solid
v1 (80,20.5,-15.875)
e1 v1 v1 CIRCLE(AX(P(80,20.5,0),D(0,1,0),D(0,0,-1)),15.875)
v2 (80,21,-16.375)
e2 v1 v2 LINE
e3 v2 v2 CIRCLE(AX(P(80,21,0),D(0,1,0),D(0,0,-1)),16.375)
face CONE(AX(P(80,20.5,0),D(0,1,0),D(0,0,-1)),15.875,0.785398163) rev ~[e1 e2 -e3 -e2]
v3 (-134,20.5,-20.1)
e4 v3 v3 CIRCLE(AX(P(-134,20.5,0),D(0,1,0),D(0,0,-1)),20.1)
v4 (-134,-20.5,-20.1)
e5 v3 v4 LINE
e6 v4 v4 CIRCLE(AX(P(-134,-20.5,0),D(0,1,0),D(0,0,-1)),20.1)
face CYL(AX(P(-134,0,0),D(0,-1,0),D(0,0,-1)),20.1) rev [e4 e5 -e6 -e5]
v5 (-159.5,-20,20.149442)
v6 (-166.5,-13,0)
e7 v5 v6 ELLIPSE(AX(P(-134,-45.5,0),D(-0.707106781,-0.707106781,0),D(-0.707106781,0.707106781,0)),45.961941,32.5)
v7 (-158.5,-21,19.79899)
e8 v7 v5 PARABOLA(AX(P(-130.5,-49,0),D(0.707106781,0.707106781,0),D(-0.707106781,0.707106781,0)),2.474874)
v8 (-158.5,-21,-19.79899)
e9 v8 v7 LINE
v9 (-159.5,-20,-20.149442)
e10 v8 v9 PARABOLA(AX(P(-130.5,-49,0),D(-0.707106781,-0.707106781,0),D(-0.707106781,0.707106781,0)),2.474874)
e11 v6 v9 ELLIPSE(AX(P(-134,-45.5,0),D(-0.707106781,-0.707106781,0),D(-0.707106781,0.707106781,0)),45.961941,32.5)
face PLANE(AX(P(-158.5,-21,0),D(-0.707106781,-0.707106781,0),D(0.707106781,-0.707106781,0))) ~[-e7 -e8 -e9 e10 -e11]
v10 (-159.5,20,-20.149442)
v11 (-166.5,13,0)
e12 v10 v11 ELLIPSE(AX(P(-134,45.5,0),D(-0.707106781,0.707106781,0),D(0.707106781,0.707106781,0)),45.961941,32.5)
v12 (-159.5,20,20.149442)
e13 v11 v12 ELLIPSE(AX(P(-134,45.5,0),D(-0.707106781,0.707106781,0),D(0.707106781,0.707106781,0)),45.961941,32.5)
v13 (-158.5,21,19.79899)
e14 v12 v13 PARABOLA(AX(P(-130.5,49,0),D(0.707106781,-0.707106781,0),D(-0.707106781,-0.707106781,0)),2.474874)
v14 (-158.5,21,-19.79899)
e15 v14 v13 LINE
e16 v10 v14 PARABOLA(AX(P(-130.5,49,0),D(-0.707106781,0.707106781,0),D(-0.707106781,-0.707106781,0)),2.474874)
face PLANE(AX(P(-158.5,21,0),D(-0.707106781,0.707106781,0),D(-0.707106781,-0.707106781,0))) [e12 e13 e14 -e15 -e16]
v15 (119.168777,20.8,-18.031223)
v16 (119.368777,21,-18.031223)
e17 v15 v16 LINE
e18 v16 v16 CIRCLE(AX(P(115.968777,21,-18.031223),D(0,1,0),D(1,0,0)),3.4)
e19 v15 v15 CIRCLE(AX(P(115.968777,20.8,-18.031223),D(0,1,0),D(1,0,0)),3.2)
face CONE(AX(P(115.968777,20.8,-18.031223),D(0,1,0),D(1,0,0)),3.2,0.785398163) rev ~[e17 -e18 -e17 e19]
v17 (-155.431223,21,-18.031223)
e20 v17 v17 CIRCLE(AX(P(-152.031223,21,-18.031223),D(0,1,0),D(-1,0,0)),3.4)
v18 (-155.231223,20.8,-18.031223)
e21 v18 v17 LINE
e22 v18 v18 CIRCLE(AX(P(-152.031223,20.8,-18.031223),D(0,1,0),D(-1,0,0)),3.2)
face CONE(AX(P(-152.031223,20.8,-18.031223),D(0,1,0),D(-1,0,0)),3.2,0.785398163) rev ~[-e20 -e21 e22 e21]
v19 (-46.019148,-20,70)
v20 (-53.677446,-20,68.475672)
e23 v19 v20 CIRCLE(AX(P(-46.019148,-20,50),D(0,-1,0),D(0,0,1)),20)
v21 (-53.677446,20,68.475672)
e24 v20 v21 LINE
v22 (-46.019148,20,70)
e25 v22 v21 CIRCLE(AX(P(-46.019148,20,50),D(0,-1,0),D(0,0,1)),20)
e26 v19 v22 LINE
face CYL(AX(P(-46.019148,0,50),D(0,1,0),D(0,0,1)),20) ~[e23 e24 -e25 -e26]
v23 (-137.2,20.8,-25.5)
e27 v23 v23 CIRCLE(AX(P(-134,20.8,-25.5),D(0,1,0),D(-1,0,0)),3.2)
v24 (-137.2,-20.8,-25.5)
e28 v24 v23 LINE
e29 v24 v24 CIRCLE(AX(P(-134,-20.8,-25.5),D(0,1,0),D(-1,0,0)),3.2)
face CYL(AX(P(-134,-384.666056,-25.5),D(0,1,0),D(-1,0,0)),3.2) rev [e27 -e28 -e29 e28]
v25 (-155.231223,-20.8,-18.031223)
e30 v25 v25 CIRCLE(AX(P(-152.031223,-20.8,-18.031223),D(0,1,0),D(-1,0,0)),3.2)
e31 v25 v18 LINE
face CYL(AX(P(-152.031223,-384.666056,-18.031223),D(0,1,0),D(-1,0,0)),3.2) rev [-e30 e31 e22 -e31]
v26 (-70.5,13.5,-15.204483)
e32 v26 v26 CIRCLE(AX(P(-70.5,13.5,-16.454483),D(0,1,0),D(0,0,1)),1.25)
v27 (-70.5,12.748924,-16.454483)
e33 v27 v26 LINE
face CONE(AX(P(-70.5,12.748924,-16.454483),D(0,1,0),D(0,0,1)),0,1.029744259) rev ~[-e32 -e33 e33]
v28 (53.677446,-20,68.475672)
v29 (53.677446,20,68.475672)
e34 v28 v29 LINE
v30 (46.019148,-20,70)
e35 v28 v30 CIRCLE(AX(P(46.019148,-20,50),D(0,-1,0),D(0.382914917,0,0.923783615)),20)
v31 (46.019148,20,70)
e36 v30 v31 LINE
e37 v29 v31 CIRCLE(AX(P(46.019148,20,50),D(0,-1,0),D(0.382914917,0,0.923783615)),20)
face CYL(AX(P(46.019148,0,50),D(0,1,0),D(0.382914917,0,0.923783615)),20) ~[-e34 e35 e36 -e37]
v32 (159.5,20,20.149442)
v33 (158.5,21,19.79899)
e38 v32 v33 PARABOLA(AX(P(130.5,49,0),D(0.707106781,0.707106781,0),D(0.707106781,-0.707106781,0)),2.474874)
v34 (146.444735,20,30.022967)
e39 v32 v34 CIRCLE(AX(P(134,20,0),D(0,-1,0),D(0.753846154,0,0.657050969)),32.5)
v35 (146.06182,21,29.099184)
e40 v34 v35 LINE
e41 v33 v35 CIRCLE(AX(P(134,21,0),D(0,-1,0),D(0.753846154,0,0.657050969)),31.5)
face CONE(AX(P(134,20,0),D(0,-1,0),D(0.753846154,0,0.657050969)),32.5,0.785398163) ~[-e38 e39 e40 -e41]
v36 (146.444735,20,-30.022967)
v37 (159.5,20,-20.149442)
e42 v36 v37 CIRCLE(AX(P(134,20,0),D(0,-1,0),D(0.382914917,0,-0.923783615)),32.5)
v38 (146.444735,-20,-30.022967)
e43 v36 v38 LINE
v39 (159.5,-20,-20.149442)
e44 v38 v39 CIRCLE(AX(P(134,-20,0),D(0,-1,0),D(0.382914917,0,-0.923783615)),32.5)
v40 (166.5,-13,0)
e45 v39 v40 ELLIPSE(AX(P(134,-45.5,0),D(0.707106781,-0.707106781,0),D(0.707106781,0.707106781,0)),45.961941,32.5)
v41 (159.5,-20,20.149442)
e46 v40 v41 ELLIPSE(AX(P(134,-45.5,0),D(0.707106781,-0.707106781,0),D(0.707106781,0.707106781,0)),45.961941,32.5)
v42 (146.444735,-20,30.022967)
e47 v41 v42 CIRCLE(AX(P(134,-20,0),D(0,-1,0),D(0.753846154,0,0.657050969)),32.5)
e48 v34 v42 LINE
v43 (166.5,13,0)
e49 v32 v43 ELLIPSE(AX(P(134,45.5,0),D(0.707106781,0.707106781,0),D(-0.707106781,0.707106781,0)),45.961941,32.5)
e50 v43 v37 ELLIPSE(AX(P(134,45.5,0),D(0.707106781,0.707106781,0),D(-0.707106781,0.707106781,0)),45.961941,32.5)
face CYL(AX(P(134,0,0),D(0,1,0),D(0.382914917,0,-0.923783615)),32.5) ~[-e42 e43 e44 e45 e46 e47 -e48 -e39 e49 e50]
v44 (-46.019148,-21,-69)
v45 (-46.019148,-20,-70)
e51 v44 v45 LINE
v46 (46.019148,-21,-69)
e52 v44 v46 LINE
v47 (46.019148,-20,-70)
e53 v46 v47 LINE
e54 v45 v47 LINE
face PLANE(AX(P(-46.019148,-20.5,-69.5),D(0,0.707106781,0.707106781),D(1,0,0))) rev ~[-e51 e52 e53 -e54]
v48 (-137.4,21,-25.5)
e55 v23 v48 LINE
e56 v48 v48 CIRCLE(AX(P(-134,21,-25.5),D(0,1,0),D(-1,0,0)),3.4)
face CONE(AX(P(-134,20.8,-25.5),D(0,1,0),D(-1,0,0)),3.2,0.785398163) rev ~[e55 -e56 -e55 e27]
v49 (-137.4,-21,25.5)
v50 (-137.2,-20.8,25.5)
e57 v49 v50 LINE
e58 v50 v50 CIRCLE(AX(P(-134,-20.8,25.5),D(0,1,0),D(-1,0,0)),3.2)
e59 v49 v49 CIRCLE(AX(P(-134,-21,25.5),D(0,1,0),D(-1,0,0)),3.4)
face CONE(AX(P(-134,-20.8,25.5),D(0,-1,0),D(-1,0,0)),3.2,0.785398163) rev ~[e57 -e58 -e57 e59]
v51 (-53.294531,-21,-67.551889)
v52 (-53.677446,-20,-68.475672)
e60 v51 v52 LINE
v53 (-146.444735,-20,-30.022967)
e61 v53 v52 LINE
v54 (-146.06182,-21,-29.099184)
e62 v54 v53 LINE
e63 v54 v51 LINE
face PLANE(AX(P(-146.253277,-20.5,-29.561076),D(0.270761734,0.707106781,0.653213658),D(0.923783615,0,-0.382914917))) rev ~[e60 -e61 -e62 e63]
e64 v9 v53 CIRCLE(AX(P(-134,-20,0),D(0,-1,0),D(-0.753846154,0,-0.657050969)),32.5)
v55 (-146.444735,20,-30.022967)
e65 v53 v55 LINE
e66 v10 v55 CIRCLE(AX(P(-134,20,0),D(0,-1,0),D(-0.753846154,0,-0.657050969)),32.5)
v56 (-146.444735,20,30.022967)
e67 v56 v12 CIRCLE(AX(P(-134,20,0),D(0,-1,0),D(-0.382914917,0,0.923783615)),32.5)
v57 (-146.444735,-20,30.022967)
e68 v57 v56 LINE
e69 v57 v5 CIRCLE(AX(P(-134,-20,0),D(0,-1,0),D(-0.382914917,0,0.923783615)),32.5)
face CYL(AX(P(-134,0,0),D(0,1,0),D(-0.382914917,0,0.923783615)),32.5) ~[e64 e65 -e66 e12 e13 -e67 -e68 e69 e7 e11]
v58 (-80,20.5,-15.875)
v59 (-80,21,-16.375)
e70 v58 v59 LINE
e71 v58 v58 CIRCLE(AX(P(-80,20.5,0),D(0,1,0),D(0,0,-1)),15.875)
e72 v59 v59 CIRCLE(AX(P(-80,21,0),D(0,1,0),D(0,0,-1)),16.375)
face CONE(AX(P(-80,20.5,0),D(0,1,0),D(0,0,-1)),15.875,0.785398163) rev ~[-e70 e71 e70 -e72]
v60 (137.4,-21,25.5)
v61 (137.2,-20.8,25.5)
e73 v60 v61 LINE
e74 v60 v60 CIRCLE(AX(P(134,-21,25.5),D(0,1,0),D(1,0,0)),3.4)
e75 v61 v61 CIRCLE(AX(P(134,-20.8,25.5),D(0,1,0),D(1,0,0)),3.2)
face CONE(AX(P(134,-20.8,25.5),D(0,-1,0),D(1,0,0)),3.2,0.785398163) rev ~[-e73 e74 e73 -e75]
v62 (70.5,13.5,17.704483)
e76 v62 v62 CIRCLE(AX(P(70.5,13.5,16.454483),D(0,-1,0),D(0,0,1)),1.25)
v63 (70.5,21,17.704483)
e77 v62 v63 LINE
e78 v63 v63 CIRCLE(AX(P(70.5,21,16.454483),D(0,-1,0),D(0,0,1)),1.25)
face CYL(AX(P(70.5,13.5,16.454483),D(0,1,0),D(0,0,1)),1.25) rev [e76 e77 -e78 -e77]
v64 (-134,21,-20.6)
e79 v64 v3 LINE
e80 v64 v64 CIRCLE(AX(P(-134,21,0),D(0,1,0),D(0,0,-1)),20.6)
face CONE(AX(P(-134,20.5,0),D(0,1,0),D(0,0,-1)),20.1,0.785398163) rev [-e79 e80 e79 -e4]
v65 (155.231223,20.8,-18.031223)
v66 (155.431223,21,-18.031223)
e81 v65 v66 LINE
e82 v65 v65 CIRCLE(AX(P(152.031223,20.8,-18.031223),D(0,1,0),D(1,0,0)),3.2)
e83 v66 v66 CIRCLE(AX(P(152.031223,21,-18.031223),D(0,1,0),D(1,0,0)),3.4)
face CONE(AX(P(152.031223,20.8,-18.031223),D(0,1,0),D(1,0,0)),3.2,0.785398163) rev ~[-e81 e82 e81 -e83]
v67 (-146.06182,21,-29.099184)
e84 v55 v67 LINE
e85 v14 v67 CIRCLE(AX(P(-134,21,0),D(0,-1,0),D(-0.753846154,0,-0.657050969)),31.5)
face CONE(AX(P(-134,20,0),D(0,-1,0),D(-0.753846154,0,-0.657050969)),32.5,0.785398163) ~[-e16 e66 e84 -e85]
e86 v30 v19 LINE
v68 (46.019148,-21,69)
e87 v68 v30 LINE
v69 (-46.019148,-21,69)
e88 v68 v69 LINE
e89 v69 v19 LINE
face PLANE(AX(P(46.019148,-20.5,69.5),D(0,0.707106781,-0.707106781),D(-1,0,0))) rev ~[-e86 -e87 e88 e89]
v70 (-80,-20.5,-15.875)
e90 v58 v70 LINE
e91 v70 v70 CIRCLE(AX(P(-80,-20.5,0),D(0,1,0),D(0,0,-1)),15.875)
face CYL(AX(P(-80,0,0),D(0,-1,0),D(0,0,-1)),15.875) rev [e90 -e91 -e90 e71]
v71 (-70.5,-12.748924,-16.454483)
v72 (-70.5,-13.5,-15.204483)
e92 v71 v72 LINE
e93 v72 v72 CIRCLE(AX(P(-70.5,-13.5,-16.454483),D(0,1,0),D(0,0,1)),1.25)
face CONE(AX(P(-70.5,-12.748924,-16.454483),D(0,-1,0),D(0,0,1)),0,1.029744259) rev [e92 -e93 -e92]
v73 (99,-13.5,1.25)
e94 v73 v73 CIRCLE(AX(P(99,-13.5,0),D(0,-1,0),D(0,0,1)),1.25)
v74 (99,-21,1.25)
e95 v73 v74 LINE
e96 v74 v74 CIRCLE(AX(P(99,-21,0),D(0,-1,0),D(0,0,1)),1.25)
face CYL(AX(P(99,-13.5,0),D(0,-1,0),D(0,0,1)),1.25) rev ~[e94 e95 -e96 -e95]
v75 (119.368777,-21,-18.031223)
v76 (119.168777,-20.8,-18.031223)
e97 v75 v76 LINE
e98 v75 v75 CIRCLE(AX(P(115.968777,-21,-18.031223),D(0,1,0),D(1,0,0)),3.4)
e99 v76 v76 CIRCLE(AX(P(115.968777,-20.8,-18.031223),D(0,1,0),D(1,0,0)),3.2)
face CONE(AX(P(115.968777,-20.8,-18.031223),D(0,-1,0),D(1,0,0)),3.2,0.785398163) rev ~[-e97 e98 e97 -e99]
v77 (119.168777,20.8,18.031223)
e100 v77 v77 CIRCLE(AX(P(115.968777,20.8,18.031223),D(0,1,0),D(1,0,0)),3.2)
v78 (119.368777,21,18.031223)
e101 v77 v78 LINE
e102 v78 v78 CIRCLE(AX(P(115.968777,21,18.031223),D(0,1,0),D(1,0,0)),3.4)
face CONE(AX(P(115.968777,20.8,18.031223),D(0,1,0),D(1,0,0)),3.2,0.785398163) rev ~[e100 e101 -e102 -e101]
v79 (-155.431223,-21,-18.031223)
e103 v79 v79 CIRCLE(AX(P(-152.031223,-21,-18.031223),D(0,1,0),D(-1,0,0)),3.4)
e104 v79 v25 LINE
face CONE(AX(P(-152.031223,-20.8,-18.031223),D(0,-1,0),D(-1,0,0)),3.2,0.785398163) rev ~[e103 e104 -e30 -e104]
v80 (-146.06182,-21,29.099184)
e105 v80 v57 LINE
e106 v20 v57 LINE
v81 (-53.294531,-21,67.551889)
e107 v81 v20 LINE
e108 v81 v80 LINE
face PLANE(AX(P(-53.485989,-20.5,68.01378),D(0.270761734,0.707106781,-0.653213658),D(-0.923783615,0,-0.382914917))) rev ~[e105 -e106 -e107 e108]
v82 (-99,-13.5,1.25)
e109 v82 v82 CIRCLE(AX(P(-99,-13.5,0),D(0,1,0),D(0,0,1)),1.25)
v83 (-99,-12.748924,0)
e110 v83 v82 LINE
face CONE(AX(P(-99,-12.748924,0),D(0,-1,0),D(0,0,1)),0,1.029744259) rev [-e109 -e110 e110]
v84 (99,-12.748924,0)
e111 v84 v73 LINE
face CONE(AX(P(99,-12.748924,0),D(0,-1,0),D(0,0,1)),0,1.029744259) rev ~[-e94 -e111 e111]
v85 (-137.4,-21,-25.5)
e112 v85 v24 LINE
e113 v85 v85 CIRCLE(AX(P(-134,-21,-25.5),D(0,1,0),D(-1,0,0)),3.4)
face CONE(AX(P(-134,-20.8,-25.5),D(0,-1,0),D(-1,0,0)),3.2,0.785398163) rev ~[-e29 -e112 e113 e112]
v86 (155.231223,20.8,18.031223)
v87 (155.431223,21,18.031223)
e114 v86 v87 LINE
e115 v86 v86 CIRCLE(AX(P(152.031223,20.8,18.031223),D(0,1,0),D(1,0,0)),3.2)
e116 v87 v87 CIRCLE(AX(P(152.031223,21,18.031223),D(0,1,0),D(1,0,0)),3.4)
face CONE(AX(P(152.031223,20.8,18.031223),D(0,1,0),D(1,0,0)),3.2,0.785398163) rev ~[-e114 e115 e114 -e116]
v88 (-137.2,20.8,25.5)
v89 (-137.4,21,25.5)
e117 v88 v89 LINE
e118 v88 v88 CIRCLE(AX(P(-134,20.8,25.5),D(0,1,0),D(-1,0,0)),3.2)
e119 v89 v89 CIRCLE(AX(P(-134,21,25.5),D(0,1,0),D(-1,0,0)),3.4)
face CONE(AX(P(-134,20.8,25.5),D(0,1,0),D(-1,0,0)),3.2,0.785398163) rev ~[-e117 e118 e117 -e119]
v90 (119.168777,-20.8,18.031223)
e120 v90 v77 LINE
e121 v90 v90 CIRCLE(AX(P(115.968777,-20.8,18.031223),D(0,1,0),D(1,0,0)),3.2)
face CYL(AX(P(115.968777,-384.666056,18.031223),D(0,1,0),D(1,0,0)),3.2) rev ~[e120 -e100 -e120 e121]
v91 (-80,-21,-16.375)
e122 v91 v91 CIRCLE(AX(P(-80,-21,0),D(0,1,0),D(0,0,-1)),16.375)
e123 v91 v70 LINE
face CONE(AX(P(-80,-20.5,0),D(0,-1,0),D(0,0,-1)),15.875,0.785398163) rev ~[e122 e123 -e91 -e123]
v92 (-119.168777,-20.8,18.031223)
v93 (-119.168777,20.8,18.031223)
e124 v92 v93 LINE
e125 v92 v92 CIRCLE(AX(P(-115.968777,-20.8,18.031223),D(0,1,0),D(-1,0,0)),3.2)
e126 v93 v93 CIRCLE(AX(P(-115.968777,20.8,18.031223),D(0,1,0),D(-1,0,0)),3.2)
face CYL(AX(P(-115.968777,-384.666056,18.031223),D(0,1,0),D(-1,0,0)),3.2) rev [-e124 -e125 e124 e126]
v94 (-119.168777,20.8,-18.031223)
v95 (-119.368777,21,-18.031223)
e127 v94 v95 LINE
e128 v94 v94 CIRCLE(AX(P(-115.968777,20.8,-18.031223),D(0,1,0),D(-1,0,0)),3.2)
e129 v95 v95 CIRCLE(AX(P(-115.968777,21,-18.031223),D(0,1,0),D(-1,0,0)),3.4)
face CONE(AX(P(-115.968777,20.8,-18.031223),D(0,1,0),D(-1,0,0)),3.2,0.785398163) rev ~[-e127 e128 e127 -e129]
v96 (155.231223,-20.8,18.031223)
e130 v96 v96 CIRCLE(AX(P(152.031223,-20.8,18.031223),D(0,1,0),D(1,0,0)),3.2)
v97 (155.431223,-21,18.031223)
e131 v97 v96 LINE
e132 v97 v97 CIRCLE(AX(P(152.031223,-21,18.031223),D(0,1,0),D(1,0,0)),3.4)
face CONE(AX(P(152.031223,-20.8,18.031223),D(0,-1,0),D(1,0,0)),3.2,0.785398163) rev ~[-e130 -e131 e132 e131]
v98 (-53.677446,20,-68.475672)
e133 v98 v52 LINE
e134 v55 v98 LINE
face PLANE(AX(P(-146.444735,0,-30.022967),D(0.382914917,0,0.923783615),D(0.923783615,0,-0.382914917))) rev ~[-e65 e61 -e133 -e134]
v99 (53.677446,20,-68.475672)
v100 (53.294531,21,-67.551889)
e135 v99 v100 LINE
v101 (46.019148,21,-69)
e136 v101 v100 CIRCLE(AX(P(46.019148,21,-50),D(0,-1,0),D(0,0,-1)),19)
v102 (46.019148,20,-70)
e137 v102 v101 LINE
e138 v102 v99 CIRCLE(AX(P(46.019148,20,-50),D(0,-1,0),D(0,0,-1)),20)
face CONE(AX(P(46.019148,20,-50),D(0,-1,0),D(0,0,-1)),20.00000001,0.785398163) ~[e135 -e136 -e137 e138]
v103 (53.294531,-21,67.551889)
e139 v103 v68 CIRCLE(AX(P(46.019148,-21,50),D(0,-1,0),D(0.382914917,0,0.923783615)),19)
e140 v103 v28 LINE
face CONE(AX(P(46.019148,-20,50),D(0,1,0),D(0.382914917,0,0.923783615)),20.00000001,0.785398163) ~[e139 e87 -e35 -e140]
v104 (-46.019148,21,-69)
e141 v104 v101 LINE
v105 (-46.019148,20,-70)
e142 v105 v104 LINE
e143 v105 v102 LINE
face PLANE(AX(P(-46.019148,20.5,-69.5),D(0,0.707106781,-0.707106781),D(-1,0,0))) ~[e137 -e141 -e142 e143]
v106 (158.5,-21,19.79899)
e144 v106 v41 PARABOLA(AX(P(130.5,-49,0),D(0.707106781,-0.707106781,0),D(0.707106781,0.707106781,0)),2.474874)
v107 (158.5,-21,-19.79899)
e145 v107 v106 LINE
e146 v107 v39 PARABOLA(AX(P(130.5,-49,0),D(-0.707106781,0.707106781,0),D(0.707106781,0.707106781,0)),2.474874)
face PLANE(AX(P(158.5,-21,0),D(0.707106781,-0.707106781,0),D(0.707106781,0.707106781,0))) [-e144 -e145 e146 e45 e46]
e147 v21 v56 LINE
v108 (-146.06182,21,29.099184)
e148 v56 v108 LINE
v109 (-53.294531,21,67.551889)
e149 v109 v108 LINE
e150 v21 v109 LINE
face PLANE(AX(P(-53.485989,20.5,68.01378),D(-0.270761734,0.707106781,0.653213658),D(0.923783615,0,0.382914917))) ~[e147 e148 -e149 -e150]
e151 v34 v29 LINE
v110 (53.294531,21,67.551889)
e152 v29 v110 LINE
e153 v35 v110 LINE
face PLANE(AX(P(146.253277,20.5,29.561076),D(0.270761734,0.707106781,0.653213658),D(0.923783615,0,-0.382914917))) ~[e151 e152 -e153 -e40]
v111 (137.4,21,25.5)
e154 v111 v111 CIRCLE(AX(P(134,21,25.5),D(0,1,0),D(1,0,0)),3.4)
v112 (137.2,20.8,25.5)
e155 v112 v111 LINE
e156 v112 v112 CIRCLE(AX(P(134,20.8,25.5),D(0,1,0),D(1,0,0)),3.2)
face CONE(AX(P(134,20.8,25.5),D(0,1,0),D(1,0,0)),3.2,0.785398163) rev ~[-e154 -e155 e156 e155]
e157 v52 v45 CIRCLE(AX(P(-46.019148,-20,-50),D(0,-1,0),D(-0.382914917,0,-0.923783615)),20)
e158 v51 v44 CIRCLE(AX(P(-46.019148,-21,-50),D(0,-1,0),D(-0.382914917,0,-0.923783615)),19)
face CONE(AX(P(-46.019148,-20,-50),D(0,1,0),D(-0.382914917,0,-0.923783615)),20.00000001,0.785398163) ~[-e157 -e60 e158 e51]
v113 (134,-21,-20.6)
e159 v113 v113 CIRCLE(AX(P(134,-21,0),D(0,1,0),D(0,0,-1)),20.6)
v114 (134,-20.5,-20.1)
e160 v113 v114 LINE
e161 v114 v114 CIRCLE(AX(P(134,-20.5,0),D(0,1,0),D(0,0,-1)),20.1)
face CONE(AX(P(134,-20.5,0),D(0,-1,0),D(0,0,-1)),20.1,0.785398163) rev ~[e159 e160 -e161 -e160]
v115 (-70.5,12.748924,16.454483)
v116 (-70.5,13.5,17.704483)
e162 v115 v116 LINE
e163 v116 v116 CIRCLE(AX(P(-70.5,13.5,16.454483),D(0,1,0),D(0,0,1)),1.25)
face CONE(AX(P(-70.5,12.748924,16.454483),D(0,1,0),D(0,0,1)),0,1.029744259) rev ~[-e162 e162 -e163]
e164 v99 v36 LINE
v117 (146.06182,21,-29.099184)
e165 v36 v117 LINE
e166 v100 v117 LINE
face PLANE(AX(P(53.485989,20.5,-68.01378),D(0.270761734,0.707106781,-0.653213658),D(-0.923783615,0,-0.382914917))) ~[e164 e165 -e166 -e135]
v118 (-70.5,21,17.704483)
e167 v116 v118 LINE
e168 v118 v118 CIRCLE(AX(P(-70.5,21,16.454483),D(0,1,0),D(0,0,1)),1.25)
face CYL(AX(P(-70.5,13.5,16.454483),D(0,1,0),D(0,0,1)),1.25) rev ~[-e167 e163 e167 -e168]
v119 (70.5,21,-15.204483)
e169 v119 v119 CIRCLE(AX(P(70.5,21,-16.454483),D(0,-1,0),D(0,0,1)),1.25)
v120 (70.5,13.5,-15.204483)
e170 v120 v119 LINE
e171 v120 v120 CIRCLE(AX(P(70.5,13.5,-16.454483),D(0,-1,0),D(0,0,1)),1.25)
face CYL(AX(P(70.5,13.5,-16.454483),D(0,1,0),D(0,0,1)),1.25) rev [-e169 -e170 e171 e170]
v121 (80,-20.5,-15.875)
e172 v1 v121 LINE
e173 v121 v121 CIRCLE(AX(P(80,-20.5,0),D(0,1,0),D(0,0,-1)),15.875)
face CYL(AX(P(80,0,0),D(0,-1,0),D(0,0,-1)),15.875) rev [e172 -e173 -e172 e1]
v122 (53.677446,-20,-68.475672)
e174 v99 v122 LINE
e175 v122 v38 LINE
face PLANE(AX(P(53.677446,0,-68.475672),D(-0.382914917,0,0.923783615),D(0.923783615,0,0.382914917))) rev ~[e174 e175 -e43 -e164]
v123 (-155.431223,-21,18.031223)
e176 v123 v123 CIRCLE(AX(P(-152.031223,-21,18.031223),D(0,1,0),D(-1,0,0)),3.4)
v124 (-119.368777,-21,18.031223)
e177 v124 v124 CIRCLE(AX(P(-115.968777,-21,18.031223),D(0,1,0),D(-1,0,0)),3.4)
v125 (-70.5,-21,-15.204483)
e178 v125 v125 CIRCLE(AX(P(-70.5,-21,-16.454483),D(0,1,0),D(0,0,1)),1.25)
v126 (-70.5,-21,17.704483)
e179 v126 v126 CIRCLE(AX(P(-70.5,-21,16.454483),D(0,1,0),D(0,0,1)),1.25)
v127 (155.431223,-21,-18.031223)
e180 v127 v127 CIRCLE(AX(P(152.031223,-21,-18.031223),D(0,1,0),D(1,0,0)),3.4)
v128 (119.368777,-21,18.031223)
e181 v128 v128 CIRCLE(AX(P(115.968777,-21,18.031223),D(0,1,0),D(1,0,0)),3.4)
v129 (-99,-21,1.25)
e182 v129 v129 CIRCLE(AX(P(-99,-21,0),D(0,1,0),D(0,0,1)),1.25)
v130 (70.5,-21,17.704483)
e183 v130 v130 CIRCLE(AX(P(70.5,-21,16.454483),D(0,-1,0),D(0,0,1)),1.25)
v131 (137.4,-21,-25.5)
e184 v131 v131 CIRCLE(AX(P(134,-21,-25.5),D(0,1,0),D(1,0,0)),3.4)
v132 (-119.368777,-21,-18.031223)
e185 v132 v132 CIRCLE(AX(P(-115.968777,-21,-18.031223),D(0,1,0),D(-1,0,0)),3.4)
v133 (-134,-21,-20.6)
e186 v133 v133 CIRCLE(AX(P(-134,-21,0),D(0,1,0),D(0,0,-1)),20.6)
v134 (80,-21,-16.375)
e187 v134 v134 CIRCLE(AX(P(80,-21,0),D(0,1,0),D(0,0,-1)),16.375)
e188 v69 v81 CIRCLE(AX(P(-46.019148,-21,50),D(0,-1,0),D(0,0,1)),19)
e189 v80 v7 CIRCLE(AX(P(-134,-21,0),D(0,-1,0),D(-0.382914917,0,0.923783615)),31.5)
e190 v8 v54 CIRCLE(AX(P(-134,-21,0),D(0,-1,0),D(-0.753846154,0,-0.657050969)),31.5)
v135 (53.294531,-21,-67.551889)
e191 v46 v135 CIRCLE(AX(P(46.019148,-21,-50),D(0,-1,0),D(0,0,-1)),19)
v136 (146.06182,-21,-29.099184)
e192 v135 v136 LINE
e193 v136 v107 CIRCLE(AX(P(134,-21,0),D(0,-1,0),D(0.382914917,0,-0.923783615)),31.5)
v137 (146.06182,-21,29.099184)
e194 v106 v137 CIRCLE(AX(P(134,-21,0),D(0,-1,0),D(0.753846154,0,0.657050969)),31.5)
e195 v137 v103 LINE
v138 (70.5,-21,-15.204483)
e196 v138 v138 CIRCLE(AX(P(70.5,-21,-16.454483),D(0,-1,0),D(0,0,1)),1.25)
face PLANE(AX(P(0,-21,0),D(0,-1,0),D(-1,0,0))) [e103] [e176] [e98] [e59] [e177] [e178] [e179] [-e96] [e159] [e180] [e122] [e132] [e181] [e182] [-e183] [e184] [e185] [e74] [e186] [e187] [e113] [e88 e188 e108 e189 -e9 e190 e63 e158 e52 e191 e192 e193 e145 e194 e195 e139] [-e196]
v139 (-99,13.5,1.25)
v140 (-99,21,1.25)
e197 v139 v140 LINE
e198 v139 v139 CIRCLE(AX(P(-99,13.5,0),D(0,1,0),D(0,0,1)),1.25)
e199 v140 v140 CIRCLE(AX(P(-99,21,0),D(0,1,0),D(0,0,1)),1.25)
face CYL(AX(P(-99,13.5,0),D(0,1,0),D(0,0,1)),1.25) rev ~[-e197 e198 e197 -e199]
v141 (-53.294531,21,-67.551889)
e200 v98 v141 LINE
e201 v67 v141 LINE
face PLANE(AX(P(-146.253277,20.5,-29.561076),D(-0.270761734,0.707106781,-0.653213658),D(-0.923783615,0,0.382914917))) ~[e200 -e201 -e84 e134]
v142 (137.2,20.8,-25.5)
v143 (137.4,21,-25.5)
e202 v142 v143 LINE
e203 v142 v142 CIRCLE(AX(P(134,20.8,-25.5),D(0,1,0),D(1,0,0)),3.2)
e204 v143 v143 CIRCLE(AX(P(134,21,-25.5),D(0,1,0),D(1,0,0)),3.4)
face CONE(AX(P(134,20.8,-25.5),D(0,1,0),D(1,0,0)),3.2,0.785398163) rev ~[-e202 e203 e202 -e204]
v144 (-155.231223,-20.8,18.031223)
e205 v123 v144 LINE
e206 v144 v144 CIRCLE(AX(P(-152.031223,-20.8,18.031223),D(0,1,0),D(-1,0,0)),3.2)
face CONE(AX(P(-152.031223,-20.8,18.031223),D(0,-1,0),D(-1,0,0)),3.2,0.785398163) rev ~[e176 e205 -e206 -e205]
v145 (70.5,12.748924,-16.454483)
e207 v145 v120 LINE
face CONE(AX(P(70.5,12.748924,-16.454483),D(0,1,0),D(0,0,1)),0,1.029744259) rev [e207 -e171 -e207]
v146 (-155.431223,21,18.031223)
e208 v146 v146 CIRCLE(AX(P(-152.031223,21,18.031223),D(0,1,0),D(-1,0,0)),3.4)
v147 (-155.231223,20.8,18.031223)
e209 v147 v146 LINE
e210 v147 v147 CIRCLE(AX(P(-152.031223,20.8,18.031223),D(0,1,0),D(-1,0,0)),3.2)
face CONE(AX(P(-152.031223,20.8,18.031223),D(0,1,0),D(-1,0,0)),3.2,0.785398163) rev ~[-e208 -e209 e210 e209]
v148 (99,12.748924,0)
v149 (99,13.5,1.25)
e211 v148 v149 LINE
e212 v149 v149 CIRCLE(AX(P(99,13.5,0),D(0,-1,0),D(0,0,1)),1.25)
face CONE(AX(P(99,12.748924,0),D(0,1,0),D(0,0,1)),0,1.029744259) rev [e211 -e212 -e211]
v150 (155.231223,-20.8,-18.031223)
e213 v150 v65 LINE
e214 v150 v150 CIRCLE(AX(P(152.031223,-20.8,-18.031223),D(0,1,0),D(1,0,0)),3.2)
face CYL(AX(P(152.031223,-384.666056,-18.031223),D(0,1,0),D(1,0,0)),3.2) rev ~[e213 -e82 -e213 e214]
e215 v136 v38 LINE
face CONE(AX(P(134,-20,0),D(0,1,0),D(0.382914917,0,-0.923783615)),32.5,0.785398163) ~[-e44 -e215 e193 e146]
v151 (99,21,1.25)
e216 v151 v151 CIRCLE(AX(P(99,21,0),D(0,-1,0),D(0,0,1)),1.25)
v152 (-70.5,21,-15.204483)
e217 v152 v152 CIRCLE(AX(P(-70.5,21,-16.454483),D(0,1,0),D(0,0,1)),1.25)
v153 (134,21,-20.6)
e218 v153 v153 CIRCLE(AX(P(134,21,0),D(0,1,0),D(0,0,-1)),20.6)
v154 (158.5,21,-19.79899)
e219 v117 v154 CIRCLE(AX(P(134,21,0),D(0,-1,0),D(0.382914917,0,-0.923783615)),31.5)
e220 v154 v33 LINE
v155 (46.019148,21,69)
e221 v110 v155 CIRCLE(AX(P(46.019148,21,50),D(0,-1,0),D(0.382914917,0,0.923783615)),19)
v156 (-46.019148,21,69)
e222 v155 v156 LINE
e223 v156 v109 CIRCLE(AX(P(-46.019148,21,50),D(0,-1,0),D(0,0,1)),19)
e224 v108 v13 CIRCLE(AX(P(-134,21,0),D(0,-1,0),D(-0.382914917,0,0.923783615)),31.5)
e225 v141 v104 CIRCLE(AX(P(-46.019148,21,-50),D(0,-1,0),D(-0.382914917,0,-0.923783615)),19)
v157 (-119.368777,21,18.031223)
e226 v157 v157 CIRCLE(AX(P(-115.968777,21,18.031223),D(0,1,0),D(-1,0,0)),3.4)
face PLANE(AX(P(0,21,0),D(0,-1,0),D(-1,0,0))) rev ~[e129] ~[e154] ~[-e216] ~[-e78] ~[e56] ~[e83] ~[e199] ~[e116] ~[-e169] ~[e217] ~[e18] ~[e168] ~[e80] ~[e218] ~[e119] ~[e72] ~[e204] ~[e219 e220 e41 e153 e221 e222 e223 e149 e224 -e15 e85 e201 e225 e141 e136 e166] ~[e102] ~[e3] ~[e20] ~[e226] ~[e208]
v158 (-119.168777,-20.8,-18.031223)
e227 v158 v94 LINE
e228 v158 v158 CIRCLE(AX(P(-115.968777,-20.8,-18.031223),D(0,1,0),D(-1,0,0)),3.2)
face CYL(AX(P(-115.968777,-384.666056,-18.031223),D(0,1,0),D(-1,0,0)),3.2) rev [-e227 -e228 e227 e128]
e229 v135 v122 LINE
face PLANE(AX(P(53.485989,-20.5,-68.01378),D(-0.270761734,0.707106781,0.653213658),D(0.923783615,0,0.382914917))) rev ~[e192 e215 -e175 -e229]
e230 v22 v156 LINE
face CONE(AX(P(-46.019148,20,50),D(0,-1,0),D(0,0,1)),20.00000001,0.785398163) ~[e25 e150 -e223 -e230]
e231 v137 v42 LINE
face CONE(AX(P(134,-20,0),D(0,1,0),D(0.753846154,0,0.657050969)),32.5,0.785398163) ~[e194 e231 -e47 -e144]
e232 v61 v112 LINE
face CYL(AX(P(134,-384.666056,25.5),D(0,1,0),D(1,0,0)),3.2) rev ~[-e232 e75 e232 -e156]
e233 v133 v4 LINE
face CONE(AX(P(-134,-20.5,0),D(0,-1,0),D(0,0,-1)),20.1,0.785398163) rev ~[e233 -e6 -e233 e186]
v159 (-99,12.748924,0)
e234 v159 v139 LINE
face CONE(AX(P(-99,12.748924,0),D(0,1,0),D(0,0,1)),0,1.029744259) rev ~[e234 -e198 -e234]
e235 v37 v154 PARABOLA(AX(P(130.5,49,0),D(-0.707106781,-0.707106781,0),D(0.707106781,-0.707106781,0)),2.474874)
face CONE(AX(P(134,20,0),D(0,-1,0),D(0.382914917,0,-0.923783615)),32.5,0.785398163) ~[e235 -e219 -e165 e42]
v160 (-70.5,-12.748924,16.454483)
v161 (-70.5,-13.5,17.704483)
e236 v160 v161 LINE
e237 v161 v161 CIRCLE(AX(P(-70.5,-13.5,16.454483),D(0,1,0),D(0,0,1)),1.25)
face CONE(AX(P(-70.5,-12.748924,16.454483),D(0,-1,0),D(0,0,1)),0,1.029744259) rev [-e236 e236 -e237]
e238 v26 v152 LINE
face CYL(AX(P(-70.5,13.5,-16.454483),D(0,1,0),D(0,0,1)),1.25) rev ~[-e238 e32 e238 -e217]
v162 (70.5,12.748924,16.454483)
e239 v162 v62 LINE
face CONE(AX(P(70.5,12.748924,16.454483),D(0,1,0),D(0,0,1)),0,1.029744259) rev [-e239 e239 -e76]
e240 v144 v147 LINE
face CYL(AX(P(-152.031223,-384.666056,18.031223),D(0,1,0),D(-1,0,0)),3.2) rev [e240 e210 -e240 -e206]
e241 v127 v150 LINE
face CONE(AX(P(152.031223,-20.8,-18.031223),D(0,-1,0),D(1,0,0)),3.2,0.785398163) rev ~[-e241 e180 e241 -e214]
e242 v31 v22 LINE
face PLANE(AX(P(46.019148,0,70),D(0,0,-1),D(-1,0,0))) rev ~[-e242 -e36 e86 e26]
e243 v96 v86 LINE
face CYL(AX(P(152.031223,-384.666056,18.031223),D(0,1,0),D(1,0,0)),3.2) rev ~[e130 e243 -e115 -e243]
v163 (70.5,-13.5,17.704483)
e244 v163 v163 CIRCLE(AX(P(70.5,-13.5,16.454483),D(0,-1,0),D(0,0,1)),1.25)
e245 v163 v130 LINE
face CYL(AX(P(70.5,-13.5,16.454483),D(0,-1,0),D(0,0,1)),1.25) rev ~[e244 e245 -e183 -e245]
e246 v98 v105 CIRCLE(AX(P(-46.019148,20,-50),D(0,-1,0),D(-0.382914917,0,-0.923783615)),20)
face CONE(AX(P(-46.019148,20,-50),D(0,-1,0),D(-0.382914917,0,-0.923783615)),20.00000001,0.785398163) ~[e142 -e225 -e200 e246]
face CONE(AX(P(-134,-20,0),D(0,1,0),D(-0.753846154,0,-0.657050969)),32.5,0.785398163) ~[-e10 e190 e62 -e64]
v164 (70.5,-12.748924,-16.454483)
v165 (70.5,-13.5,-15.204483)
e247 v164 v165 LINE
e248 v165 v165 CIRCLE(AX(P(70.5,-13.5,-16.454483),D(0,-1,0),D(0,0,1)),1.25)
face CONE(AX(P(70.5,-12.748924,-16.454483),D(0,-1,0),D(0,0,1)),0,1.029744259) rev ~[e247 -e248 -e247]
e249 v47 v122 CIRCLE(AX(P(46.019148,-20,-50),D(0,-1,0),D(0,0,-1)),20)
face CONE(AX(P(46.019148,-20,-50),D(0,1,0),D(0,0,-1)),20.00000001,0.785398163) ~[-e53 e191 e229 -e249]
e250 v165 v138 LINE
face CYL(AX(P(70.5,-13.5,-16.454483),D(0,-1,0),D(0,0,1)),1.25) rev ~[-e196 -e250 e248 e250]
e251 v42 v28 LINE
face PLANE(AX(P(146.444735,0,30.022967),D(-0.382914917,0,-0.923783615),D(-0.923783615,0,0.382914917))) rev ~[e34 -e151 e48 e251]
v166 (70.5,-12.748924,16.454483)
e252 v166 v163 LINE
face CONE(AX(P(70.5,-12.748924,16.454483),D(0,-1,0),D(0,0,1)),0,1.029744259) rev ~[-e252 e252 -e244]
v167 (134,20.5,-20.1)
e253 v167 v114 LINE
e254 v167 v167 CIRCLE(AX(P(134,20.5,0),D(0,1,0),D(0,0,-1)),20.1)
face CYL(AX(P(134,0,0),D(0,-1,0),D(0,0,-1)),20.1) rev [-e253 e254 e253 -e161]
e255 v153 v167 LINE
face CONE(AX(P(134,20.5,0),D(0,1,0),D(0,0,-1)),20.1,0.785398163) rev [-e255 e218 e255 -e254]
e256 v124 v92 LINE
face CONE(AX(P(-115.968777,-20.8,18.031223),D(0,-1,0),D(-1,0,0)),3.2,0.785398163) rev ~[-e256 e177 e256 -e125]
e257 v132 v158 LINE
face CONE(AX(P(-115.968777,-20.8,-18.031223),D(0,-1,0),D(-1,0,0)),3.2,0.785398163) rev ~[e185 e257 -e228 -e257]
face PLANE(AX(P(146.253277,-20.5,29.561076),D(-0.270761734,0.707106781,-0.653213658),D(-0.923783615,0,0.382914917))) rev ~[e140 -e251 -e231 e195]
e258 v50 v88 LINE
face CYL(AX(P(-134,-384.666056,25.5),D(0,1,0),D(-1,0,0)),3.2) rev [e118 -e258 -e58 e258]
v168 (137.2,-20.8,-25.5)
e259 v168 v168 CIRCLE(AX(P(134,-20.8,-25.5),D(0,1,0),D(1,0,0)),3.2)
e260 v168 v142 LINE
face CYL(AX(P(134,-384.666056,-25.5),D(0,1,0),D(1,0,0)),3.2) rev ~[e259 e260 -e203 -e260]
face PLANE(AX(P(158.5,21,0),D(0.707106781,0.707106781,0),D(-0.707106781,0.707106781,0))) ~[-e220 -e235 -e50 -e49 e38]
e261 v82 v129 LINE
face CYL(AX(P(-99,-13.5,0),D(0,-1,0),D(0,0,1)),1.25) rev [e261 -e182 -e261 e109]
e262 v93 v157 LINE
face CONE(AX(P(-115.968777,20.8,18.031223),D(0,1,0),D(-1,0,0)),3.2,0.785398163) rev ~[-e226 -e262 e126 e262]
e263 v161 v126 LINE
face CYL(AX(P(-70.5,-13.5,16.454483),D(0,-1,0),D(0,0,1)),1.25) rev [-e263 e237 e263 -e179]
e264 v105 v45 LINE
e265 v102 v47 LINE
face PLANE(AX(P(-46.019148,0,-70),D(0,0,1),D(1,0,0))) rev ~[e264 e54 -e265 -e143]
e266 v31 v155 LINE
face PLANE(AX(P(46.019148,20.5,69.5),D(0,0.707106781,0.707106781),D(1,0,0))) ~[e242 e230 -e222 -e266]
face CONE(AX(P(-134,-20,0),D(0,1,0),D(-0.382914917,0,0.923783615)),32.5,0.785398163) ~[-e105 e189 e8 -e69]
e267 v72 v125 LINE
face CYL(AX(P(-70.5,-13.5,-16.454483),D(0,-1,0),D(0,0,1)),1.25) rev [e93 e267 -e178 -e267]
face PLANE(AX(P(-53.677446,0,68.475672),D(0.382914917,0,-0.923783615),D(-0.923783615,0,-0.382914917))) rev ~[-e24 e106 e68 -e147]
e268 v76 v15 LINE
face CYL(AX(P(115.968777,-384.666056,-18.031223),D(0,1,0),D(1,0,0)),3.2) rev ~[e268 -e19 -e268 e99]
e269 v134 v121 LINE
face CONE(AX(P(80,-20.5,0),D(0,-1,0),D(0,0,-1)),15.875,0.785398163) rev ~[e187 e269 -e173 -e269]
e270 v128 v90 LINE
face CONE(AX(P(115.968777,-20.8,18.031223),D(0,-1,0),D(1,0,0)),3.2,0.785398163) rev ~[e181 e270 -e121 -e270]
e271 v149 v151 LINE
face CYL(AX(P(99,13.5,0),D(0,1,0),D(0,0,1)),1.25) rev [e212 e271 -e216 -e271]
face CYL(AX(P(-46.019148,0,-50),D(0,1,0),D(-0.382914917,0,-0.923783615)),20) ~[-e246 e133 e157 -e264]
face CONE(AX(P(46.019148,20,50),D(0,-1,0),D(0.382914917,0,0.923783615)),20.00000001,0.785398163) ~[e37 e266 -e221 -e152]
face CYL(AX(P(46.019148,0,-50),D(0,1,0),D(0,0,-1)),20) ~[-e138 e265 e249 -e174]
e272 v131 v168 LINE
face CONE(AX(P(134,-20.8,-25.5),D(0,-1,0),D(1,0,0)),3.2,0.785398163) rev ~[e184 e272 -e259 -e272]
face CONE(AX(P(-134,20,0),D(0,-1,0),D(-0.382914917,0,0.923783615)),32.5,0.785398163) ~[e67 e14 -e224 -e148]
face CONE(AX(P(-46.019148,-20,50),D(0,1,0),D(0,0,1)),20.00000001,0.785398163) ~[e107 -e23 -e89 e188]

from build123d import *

# Parameters (mm, degrees)
SKETCH1_R                      = 20.1
SKETCH1_R_2                    = 15.875
BOSS_EXTRUDE1_DEPTH            = 21
CUT_EXTRUDE3_DEPTH             = 182.833027803
MIRROR2_COPY_1_DEPTH           = 182.833027803
M6_CLEARANCE_HOLE1_D           = 6.4
CHAMFER2_SIZE                  = 0.5
CHAMFER5_SIZE                  = 1
CHAMFER6_SIZE                  = 0.5
M3X0_5_TAPPED_HOLE1_AT_2_COUNT = 2
M3X0_5_TAPPED_HOLE1_AT_2_PITCH = 32.908965344
M3X0_5_TAPPED_HOLE1_AT_3_COUNT = 2
M3X0_5_TAPPED_HOLE1_AT_3_PITCH = 32.908965344
CHAMFER9_SIZE                  = 0.2


with BuildPart() as part:
    # Sketch1 → Boss-Extrude1 (new, symmetric)
    with BuildSketch(Plane(origin=(0, 0, 0), x_dir=(1, 0, 0), z_dir=(0, 1, 0))):
        with BuildLine():
            Line((-146.444734798, 30.022967472), (-53.677446084, 68.47567229))
            ThreePointArc((-53.677446084, 68.47567229), (-49.92341171, 69.615216616), (-46.019147746, 70))
            Line((-46.019147746, 70), (46.019147746, 70))
            ThreePointArc((46.019147746, 70), (49.92341171, 69.615216616), (53.677446084, 68.47567229))
            Line((53.677446084, 68.47567229), (146.444734798, 30.022967472))
            ThreePointArc((146.444734798, 30.022967472), (166.5, 0), (146.444734798, -30.022967472))
            Line((146.444734798, -30.022967472), (53.677446084, -68.47567229))
            ThreePointArc((53.677446084, -68.47567229), (49.92341171, -69.615216616), (46.019147746, -70))
            Line((46.019147746, -70), (-46.019147746, -70))
            ThreePointArc((-46.019147746, -70), (-49.92341171, -69.615216616), (-53.677446084, -68.47567229))
            Line((-53.677446084, -68.47567229), (-146.444734798, -30.022967472))
            ThreePointArc((-146.444734798, -30.022967472), (-166.5, 0), (-146.444734798, 30.022967472))
        make_face()
        with Locations(Location((-134, 0, 0), (0, 0, 90))):
            Circle(SKETCH1_R, mode=Mode.SUBTRACT)
        with Locations(Location((134, 0, 0), (0, 0, 90))):
            Circle(SKETCH1_R, mode=Mode.SUBTRACT)
        with Locations(Location((-80, 0, 0), (0, 0, 90))):
            Circle(SKETCH1_R_2, mode=Mode.SUBTRACT)
        with Locations(Location((80, 0, 0), (0, 0, 90))):
            Circle(SKETCH1_R_2, mode=Mode.SUBTRACT)
    extrude(amount=BOSS_EXTRUDE1_DEPTH, both=True)

    # Sketch5 → Cut-Extrude3 (cut, symmetric)
    with BuildSketch(Plane.XY):
        Polygon((158.5, -21), (166.5, -13), (166.5, -21), align=None)
    cut_extrude3 = extrude(amount=CUT_EXTRUDE3_DEPTH, both=True, mode=Mode.SUBTRACT)

    # Mirror1: Cut-Extrude3 across plane
    add(cut_extrude3.mirror(Plane.ZX), mode=Mode.SUBTRACT)

    # Mirror2: Cut-Extrude3 across plane
    add(cut_extrude3.mirror(Plane(origin=(0, 0, 0), x_dir=(0, 0, 1), z_dir=(1, 0, 0))), mode=Mode.SUBTRACT)

    # Mirror2 copy 1 sketch → Mirror2 copy 1 (cut, symmetric)
    with BuildSketch(Plane(origin=(0, 0, 0), x_dir=(-1, 0, 0), z_dir=(0, 0, 1))):
        Polygon((158.5, -21), (166.5, -13), (166.5, -21), align=None)
    extrude(amount=MIRROR2_COPY_1_DEPTH, both=True, mode=Mode.SUBTRACT)

    # M6 Clearance Hole1 (through all)
    with Locations(Plane(origin=(0, -21, 0), x_dir=(-1, 0, 0), z_dir=(0, -1, 0))):
        with Locations((-115.96877708, -18.03122292), (-134, -25.5), (-152.03122292, -18.03122292), (-152.03122292, 18.03122292), (-134, 25.5), (-115.96877708, 18.03122292)):
            m6_clearance_hole1 = Hole(M6_CLEARANCE_HOLE1_D / 2)

    # Mirror5: M6 Clearance Hole1 across plane
    add(m6_clearance_hole1.mirror(Plane(origin=(0, 0, 0), x_dir=(0, 0, 1), z_dir=(1, 0, 0))), mode=Mode.SUBTRACT)

    # Chamfer2
    chamfer2_edges = [part.edges().sort_by_distance(p)[0] for p in [
        (-134, -21, 20.1),
        (-134, 21, 20.1),
        (134, -21, 20.1),
        (134, 21, 20.1),
    ]]
    chamfer(chamfer2_edges, length=CHAMFER2_SIZE)

    # Chamfer5
    chamfer5_edges = [part.edges().sort_by_distance(p)[0] for p in [
        (152.974072526, -21, -26.386257252),
        (-152.974072526, -21, -26.386257252),
        (100.061090441, -21, -49.249319881),
        (-100.061090441, -21, -49.249319881),
        (49.92341171, -21, -69.615216616),
        (-49.92341171, -21, -69.615216616),
        (0, -21, -70),
        (-152.974072526, -21, 26.386257252),
        (152.974072526, -21, 26.386257252),
        (-100.061090441, -21, 49.249319881),
        (100.061090441, -21, 49.249319881),
        (-49.92341171, -21, 69.615216616),
        (49.92341171, -21, 69.615216616),
        (0, -21, 70),
        (152.974072526, 21, -26.386257252),
        (-152.974072526, 21, -26.386257252),
        (100.061090441, 21, -49.249319881),
        (-100.061090441, 21, -49.249319881),
        (49.92341171, 21, -69.615216616),
        (-49.92341171, 21, -69.615216616),
        (0, 21, -70),
        (-152.974072526, 21, 26.386257252),
        (152.974072526, 21, 26.386257252),
        (-100.061090441, 21, 49.249319881),
        (100.061090441, 21, 49.249319881),
        (-49.92341171, 21, 69.615216616),
        (49.92341171, 21, 69.615216616),
        (0, 21, 70),
    ]]
    chamfer(chamfer5_edges, length=CHAMFER5_SIZE)

    # Chamfer6
    chamfer6_edges = [part.edges().sort_by_distance(p)[0] for p in [
        (-80, -21, 15.875),
        (-80, 21, 15.875),
        (80, -21, 15.875),
        (80, 21, 15.875),
    ]]
    chamfer(chamfer6_edges, length=CHAMFER6_SIZE)

    # Sketch13 → M3x0.5 Tapped Hole1 (revolve, cut)
    with BuildSketch(Plane(origin=(99, 21, 0), x_dir=(0, 0, 1), z_dir=(1, 0, 0))):
        Polygon((0, 0), (0, 8.251075774), (1.25, 7.5), (1.25, 0), align=None)
    m3x0_5_tapped_hole1 = revolve(axis=Axis((99, 27.35, 0), (0, -1, 0)), mode=Mode.SUBTRACT)

    # M3x0.5 Tapped Hole1 at 2: M3x0.5 Tapped Hole1 ×2
    with Locations(*[Vector(-0.8660254037844387, 0, 0.5000000000000001) * (i * M3X0_5_TAPPED_HOLE1_AT_2_PITCH) for i in range(1, M3X0_5_TAPPED_HOLE1_AT_2_COUNT)]):
        add(m3x0_5_tapped_hole1, mode=Mode.SUBTRACT)

    # M3x0.5 Tapped Hole1 at 3: M3x0.5 Tapped Hole1 ×2
    with Locations(*[Vector(-0.8660254037844387, 0, -0.5000000000000001) * (i * M3X0_5_TAPPED_HOLE1_AT_3_PITCH) for i in range(1, M3X0_5_TAPPED_HOLE1_AT_3_COUNT)]):
        add(m3x0_5_tapped_hole1, mode=Mode.SUBTRACT)

    # Mirror6: M3x0.5 Tapped Hole1 across plane
    add(m3x0_5_tapped_hole1.mirror(Plane(origin=(0, 0, 0), x_dir=(0, 0, 1), z_dir=(1, 0, 0))), mode=Mode.SUBTRACT)

    # Mirror6 copy 1 sketch → Mirror6 copy 1 (revolve, cut)
    with BuildSketch(Plane(origin=(-70.5, 21, 16.454482672), x_dir=(0, 0, 1), z_dir=(-1, 0, 0))):
        Polygon((0, 0), (0, -8.251075774), (1.25, -7.5), (1.25, 0), align=None)
    revolve(axis=Axis((-70.5, 27.35, 16.454482672), (0, 1, 0)), mode=Mode.SUBTRACT)

    # Mirror6 copy 2 sketch → Mirror6 copy 2 (revolve, cut)
    with BuildSketch(Plane(origin=(-70.5, 21, -16.454482672), x_dir=(0, 0, 1), z_dir=(-1, 0, 0))):
        Polygon((0, 0), (0, -8.251075774), (1.25, -7.5), (1.25, 0), align=None)
    revolve(axis=Axis((-70.5, 27.35, -16.454482672), (0, 1, 0)), mode=Mode.SUBTRACT)

    # Mirror7: M3x0.5 Tapped Hole1 across plane
    add(m3x0_5_tapped_hole1.mirror(Plane.ZX), mode=Mode.SUBTRACT)

    # Mirror7 copy 1 sketch → Mirror7 copy 1 (revolve, cut)
    with BuildSketch(Plane(origin=(70.5, -21, 16.454482672), x_dir=(0, 0, 1), z_dir=(1, 0, 0))):
        Polygon((0, 0), (0, -8.251075774), (1.25, -7.5), (1.25, 0), align=None)
    revolve(axis=Axis((70.5, -27.35, 16.454482672), (0, -1, 0)), mode=Mode.SUBTRACT)

    # Mirror7 copy 2 sketch → Mirror7 copy 2 (revolve, cut)
    with BuildSketch(Plane(origin=(70.5, -21, -16.454482672), x_dir=(0, 0, 1), z_dir=(1, 0, 0))):
        Polygon((0, 0), (0, -8.251075774), (1.25, -7.5), (1.25, 0), align=None)
    revolve(axis=Axis((70.5, -27.35, -16.454482672), (0, -1, 0)), mode=Mode.SUBTRACT)

    # Mirror7 copy 3 sketch → Mirror7 copy 3 (revolve, cut)
    with BuildSketch(Plane(origin=(-99, -21, 0), x_dir=(0, 0, 1), z_dir=(-1, 0, 0))):
        Polygon((0, 0), (0, 8.251075774), (1.25, 7.5), (1.25, 0), align=None)
    revolve(axis=Axis((-99, -27.35, 0), (0, 1, 0)), mode=Mode.SUBTRACT)

    # Mirror7 copy 4 sketch → Mirror7 copy 4 (revolve, cut)
    with BuildSketch(Plane(origin=(-70.5, -21, 16.454482672), x_dir=(0, 0, 1), z_dir=(-1, 0, 0))):
        Polygon((0, 0), (0, 8.251075774), (1.25, 7.5), (1.25, 0), align=None)
    revolve(axis=Axis((-70.5, -27.35, 16.454482672), (0, 1, 0)), mode=Mode.SUBTRACT)

    # Mirror7 copy 5 sketch → Mirror7 copy 5 (revolve, cut)
    with BuildSketch(Plane(origin=(-70.5, -21, -16.454482672), x_dir=(0, 0, 1), z_dir=(-1, 0, 0))):
        Polygon((0, 0), (0, 8.251075774), (1.25, 7.5), (1.25, 0), align=None)
    revolve(axis=Axis((-70.5, -27.35, -16.454482672), (0, 1, 0)), mode=Mode.SUBTRACT)

    # Chamfer9
    chamfer9_edges = [part.edges().sort_by_distance(p)[0] for p in [
        (112.76877708, -21, -18.03122292),
        (112.76877708, 21, -18.03122292),
        (130.8, -21, -25.5),
        (130.8, 21, -25.5),
        (148.83122292, -21, -18.03122292),
        (148.83122292, 21, -18.03122292),
        (148.83122292, -21, 18.03122292),
        (148.83122292, 21, 18.03122292),
        (130.8, -21, 25.5),
        (130.8, 21, 25.5),
        (112.76877708, -21, 18.03122292),
        (112.76877708, 21, 18.03122292),
        (-112.76877708, -21, -18.03122292),
        (-112.76877708, 21, -18.03122292),
        (-130.8, -21, -25.5),
        (-130.8, 21, -25.5),
        (-148.83122292, -21, -18.03122292),
        (-148.83122292, 21, -18.03122292),
        (-148.83122292, -21, 18.03122292),
        (-148.83122292, 21, 18.03122292),
        (-130.8, -21, 25.5),
        (-130.8, 21, 25.5),
        (-112.76877708, -21, 18.03122292),
        (-112.76877708, 21, 18.03122292),
    ]]
    chamfer(chamfer9_edges, length=CHAMFER9_SIZE)


solid = part.part
